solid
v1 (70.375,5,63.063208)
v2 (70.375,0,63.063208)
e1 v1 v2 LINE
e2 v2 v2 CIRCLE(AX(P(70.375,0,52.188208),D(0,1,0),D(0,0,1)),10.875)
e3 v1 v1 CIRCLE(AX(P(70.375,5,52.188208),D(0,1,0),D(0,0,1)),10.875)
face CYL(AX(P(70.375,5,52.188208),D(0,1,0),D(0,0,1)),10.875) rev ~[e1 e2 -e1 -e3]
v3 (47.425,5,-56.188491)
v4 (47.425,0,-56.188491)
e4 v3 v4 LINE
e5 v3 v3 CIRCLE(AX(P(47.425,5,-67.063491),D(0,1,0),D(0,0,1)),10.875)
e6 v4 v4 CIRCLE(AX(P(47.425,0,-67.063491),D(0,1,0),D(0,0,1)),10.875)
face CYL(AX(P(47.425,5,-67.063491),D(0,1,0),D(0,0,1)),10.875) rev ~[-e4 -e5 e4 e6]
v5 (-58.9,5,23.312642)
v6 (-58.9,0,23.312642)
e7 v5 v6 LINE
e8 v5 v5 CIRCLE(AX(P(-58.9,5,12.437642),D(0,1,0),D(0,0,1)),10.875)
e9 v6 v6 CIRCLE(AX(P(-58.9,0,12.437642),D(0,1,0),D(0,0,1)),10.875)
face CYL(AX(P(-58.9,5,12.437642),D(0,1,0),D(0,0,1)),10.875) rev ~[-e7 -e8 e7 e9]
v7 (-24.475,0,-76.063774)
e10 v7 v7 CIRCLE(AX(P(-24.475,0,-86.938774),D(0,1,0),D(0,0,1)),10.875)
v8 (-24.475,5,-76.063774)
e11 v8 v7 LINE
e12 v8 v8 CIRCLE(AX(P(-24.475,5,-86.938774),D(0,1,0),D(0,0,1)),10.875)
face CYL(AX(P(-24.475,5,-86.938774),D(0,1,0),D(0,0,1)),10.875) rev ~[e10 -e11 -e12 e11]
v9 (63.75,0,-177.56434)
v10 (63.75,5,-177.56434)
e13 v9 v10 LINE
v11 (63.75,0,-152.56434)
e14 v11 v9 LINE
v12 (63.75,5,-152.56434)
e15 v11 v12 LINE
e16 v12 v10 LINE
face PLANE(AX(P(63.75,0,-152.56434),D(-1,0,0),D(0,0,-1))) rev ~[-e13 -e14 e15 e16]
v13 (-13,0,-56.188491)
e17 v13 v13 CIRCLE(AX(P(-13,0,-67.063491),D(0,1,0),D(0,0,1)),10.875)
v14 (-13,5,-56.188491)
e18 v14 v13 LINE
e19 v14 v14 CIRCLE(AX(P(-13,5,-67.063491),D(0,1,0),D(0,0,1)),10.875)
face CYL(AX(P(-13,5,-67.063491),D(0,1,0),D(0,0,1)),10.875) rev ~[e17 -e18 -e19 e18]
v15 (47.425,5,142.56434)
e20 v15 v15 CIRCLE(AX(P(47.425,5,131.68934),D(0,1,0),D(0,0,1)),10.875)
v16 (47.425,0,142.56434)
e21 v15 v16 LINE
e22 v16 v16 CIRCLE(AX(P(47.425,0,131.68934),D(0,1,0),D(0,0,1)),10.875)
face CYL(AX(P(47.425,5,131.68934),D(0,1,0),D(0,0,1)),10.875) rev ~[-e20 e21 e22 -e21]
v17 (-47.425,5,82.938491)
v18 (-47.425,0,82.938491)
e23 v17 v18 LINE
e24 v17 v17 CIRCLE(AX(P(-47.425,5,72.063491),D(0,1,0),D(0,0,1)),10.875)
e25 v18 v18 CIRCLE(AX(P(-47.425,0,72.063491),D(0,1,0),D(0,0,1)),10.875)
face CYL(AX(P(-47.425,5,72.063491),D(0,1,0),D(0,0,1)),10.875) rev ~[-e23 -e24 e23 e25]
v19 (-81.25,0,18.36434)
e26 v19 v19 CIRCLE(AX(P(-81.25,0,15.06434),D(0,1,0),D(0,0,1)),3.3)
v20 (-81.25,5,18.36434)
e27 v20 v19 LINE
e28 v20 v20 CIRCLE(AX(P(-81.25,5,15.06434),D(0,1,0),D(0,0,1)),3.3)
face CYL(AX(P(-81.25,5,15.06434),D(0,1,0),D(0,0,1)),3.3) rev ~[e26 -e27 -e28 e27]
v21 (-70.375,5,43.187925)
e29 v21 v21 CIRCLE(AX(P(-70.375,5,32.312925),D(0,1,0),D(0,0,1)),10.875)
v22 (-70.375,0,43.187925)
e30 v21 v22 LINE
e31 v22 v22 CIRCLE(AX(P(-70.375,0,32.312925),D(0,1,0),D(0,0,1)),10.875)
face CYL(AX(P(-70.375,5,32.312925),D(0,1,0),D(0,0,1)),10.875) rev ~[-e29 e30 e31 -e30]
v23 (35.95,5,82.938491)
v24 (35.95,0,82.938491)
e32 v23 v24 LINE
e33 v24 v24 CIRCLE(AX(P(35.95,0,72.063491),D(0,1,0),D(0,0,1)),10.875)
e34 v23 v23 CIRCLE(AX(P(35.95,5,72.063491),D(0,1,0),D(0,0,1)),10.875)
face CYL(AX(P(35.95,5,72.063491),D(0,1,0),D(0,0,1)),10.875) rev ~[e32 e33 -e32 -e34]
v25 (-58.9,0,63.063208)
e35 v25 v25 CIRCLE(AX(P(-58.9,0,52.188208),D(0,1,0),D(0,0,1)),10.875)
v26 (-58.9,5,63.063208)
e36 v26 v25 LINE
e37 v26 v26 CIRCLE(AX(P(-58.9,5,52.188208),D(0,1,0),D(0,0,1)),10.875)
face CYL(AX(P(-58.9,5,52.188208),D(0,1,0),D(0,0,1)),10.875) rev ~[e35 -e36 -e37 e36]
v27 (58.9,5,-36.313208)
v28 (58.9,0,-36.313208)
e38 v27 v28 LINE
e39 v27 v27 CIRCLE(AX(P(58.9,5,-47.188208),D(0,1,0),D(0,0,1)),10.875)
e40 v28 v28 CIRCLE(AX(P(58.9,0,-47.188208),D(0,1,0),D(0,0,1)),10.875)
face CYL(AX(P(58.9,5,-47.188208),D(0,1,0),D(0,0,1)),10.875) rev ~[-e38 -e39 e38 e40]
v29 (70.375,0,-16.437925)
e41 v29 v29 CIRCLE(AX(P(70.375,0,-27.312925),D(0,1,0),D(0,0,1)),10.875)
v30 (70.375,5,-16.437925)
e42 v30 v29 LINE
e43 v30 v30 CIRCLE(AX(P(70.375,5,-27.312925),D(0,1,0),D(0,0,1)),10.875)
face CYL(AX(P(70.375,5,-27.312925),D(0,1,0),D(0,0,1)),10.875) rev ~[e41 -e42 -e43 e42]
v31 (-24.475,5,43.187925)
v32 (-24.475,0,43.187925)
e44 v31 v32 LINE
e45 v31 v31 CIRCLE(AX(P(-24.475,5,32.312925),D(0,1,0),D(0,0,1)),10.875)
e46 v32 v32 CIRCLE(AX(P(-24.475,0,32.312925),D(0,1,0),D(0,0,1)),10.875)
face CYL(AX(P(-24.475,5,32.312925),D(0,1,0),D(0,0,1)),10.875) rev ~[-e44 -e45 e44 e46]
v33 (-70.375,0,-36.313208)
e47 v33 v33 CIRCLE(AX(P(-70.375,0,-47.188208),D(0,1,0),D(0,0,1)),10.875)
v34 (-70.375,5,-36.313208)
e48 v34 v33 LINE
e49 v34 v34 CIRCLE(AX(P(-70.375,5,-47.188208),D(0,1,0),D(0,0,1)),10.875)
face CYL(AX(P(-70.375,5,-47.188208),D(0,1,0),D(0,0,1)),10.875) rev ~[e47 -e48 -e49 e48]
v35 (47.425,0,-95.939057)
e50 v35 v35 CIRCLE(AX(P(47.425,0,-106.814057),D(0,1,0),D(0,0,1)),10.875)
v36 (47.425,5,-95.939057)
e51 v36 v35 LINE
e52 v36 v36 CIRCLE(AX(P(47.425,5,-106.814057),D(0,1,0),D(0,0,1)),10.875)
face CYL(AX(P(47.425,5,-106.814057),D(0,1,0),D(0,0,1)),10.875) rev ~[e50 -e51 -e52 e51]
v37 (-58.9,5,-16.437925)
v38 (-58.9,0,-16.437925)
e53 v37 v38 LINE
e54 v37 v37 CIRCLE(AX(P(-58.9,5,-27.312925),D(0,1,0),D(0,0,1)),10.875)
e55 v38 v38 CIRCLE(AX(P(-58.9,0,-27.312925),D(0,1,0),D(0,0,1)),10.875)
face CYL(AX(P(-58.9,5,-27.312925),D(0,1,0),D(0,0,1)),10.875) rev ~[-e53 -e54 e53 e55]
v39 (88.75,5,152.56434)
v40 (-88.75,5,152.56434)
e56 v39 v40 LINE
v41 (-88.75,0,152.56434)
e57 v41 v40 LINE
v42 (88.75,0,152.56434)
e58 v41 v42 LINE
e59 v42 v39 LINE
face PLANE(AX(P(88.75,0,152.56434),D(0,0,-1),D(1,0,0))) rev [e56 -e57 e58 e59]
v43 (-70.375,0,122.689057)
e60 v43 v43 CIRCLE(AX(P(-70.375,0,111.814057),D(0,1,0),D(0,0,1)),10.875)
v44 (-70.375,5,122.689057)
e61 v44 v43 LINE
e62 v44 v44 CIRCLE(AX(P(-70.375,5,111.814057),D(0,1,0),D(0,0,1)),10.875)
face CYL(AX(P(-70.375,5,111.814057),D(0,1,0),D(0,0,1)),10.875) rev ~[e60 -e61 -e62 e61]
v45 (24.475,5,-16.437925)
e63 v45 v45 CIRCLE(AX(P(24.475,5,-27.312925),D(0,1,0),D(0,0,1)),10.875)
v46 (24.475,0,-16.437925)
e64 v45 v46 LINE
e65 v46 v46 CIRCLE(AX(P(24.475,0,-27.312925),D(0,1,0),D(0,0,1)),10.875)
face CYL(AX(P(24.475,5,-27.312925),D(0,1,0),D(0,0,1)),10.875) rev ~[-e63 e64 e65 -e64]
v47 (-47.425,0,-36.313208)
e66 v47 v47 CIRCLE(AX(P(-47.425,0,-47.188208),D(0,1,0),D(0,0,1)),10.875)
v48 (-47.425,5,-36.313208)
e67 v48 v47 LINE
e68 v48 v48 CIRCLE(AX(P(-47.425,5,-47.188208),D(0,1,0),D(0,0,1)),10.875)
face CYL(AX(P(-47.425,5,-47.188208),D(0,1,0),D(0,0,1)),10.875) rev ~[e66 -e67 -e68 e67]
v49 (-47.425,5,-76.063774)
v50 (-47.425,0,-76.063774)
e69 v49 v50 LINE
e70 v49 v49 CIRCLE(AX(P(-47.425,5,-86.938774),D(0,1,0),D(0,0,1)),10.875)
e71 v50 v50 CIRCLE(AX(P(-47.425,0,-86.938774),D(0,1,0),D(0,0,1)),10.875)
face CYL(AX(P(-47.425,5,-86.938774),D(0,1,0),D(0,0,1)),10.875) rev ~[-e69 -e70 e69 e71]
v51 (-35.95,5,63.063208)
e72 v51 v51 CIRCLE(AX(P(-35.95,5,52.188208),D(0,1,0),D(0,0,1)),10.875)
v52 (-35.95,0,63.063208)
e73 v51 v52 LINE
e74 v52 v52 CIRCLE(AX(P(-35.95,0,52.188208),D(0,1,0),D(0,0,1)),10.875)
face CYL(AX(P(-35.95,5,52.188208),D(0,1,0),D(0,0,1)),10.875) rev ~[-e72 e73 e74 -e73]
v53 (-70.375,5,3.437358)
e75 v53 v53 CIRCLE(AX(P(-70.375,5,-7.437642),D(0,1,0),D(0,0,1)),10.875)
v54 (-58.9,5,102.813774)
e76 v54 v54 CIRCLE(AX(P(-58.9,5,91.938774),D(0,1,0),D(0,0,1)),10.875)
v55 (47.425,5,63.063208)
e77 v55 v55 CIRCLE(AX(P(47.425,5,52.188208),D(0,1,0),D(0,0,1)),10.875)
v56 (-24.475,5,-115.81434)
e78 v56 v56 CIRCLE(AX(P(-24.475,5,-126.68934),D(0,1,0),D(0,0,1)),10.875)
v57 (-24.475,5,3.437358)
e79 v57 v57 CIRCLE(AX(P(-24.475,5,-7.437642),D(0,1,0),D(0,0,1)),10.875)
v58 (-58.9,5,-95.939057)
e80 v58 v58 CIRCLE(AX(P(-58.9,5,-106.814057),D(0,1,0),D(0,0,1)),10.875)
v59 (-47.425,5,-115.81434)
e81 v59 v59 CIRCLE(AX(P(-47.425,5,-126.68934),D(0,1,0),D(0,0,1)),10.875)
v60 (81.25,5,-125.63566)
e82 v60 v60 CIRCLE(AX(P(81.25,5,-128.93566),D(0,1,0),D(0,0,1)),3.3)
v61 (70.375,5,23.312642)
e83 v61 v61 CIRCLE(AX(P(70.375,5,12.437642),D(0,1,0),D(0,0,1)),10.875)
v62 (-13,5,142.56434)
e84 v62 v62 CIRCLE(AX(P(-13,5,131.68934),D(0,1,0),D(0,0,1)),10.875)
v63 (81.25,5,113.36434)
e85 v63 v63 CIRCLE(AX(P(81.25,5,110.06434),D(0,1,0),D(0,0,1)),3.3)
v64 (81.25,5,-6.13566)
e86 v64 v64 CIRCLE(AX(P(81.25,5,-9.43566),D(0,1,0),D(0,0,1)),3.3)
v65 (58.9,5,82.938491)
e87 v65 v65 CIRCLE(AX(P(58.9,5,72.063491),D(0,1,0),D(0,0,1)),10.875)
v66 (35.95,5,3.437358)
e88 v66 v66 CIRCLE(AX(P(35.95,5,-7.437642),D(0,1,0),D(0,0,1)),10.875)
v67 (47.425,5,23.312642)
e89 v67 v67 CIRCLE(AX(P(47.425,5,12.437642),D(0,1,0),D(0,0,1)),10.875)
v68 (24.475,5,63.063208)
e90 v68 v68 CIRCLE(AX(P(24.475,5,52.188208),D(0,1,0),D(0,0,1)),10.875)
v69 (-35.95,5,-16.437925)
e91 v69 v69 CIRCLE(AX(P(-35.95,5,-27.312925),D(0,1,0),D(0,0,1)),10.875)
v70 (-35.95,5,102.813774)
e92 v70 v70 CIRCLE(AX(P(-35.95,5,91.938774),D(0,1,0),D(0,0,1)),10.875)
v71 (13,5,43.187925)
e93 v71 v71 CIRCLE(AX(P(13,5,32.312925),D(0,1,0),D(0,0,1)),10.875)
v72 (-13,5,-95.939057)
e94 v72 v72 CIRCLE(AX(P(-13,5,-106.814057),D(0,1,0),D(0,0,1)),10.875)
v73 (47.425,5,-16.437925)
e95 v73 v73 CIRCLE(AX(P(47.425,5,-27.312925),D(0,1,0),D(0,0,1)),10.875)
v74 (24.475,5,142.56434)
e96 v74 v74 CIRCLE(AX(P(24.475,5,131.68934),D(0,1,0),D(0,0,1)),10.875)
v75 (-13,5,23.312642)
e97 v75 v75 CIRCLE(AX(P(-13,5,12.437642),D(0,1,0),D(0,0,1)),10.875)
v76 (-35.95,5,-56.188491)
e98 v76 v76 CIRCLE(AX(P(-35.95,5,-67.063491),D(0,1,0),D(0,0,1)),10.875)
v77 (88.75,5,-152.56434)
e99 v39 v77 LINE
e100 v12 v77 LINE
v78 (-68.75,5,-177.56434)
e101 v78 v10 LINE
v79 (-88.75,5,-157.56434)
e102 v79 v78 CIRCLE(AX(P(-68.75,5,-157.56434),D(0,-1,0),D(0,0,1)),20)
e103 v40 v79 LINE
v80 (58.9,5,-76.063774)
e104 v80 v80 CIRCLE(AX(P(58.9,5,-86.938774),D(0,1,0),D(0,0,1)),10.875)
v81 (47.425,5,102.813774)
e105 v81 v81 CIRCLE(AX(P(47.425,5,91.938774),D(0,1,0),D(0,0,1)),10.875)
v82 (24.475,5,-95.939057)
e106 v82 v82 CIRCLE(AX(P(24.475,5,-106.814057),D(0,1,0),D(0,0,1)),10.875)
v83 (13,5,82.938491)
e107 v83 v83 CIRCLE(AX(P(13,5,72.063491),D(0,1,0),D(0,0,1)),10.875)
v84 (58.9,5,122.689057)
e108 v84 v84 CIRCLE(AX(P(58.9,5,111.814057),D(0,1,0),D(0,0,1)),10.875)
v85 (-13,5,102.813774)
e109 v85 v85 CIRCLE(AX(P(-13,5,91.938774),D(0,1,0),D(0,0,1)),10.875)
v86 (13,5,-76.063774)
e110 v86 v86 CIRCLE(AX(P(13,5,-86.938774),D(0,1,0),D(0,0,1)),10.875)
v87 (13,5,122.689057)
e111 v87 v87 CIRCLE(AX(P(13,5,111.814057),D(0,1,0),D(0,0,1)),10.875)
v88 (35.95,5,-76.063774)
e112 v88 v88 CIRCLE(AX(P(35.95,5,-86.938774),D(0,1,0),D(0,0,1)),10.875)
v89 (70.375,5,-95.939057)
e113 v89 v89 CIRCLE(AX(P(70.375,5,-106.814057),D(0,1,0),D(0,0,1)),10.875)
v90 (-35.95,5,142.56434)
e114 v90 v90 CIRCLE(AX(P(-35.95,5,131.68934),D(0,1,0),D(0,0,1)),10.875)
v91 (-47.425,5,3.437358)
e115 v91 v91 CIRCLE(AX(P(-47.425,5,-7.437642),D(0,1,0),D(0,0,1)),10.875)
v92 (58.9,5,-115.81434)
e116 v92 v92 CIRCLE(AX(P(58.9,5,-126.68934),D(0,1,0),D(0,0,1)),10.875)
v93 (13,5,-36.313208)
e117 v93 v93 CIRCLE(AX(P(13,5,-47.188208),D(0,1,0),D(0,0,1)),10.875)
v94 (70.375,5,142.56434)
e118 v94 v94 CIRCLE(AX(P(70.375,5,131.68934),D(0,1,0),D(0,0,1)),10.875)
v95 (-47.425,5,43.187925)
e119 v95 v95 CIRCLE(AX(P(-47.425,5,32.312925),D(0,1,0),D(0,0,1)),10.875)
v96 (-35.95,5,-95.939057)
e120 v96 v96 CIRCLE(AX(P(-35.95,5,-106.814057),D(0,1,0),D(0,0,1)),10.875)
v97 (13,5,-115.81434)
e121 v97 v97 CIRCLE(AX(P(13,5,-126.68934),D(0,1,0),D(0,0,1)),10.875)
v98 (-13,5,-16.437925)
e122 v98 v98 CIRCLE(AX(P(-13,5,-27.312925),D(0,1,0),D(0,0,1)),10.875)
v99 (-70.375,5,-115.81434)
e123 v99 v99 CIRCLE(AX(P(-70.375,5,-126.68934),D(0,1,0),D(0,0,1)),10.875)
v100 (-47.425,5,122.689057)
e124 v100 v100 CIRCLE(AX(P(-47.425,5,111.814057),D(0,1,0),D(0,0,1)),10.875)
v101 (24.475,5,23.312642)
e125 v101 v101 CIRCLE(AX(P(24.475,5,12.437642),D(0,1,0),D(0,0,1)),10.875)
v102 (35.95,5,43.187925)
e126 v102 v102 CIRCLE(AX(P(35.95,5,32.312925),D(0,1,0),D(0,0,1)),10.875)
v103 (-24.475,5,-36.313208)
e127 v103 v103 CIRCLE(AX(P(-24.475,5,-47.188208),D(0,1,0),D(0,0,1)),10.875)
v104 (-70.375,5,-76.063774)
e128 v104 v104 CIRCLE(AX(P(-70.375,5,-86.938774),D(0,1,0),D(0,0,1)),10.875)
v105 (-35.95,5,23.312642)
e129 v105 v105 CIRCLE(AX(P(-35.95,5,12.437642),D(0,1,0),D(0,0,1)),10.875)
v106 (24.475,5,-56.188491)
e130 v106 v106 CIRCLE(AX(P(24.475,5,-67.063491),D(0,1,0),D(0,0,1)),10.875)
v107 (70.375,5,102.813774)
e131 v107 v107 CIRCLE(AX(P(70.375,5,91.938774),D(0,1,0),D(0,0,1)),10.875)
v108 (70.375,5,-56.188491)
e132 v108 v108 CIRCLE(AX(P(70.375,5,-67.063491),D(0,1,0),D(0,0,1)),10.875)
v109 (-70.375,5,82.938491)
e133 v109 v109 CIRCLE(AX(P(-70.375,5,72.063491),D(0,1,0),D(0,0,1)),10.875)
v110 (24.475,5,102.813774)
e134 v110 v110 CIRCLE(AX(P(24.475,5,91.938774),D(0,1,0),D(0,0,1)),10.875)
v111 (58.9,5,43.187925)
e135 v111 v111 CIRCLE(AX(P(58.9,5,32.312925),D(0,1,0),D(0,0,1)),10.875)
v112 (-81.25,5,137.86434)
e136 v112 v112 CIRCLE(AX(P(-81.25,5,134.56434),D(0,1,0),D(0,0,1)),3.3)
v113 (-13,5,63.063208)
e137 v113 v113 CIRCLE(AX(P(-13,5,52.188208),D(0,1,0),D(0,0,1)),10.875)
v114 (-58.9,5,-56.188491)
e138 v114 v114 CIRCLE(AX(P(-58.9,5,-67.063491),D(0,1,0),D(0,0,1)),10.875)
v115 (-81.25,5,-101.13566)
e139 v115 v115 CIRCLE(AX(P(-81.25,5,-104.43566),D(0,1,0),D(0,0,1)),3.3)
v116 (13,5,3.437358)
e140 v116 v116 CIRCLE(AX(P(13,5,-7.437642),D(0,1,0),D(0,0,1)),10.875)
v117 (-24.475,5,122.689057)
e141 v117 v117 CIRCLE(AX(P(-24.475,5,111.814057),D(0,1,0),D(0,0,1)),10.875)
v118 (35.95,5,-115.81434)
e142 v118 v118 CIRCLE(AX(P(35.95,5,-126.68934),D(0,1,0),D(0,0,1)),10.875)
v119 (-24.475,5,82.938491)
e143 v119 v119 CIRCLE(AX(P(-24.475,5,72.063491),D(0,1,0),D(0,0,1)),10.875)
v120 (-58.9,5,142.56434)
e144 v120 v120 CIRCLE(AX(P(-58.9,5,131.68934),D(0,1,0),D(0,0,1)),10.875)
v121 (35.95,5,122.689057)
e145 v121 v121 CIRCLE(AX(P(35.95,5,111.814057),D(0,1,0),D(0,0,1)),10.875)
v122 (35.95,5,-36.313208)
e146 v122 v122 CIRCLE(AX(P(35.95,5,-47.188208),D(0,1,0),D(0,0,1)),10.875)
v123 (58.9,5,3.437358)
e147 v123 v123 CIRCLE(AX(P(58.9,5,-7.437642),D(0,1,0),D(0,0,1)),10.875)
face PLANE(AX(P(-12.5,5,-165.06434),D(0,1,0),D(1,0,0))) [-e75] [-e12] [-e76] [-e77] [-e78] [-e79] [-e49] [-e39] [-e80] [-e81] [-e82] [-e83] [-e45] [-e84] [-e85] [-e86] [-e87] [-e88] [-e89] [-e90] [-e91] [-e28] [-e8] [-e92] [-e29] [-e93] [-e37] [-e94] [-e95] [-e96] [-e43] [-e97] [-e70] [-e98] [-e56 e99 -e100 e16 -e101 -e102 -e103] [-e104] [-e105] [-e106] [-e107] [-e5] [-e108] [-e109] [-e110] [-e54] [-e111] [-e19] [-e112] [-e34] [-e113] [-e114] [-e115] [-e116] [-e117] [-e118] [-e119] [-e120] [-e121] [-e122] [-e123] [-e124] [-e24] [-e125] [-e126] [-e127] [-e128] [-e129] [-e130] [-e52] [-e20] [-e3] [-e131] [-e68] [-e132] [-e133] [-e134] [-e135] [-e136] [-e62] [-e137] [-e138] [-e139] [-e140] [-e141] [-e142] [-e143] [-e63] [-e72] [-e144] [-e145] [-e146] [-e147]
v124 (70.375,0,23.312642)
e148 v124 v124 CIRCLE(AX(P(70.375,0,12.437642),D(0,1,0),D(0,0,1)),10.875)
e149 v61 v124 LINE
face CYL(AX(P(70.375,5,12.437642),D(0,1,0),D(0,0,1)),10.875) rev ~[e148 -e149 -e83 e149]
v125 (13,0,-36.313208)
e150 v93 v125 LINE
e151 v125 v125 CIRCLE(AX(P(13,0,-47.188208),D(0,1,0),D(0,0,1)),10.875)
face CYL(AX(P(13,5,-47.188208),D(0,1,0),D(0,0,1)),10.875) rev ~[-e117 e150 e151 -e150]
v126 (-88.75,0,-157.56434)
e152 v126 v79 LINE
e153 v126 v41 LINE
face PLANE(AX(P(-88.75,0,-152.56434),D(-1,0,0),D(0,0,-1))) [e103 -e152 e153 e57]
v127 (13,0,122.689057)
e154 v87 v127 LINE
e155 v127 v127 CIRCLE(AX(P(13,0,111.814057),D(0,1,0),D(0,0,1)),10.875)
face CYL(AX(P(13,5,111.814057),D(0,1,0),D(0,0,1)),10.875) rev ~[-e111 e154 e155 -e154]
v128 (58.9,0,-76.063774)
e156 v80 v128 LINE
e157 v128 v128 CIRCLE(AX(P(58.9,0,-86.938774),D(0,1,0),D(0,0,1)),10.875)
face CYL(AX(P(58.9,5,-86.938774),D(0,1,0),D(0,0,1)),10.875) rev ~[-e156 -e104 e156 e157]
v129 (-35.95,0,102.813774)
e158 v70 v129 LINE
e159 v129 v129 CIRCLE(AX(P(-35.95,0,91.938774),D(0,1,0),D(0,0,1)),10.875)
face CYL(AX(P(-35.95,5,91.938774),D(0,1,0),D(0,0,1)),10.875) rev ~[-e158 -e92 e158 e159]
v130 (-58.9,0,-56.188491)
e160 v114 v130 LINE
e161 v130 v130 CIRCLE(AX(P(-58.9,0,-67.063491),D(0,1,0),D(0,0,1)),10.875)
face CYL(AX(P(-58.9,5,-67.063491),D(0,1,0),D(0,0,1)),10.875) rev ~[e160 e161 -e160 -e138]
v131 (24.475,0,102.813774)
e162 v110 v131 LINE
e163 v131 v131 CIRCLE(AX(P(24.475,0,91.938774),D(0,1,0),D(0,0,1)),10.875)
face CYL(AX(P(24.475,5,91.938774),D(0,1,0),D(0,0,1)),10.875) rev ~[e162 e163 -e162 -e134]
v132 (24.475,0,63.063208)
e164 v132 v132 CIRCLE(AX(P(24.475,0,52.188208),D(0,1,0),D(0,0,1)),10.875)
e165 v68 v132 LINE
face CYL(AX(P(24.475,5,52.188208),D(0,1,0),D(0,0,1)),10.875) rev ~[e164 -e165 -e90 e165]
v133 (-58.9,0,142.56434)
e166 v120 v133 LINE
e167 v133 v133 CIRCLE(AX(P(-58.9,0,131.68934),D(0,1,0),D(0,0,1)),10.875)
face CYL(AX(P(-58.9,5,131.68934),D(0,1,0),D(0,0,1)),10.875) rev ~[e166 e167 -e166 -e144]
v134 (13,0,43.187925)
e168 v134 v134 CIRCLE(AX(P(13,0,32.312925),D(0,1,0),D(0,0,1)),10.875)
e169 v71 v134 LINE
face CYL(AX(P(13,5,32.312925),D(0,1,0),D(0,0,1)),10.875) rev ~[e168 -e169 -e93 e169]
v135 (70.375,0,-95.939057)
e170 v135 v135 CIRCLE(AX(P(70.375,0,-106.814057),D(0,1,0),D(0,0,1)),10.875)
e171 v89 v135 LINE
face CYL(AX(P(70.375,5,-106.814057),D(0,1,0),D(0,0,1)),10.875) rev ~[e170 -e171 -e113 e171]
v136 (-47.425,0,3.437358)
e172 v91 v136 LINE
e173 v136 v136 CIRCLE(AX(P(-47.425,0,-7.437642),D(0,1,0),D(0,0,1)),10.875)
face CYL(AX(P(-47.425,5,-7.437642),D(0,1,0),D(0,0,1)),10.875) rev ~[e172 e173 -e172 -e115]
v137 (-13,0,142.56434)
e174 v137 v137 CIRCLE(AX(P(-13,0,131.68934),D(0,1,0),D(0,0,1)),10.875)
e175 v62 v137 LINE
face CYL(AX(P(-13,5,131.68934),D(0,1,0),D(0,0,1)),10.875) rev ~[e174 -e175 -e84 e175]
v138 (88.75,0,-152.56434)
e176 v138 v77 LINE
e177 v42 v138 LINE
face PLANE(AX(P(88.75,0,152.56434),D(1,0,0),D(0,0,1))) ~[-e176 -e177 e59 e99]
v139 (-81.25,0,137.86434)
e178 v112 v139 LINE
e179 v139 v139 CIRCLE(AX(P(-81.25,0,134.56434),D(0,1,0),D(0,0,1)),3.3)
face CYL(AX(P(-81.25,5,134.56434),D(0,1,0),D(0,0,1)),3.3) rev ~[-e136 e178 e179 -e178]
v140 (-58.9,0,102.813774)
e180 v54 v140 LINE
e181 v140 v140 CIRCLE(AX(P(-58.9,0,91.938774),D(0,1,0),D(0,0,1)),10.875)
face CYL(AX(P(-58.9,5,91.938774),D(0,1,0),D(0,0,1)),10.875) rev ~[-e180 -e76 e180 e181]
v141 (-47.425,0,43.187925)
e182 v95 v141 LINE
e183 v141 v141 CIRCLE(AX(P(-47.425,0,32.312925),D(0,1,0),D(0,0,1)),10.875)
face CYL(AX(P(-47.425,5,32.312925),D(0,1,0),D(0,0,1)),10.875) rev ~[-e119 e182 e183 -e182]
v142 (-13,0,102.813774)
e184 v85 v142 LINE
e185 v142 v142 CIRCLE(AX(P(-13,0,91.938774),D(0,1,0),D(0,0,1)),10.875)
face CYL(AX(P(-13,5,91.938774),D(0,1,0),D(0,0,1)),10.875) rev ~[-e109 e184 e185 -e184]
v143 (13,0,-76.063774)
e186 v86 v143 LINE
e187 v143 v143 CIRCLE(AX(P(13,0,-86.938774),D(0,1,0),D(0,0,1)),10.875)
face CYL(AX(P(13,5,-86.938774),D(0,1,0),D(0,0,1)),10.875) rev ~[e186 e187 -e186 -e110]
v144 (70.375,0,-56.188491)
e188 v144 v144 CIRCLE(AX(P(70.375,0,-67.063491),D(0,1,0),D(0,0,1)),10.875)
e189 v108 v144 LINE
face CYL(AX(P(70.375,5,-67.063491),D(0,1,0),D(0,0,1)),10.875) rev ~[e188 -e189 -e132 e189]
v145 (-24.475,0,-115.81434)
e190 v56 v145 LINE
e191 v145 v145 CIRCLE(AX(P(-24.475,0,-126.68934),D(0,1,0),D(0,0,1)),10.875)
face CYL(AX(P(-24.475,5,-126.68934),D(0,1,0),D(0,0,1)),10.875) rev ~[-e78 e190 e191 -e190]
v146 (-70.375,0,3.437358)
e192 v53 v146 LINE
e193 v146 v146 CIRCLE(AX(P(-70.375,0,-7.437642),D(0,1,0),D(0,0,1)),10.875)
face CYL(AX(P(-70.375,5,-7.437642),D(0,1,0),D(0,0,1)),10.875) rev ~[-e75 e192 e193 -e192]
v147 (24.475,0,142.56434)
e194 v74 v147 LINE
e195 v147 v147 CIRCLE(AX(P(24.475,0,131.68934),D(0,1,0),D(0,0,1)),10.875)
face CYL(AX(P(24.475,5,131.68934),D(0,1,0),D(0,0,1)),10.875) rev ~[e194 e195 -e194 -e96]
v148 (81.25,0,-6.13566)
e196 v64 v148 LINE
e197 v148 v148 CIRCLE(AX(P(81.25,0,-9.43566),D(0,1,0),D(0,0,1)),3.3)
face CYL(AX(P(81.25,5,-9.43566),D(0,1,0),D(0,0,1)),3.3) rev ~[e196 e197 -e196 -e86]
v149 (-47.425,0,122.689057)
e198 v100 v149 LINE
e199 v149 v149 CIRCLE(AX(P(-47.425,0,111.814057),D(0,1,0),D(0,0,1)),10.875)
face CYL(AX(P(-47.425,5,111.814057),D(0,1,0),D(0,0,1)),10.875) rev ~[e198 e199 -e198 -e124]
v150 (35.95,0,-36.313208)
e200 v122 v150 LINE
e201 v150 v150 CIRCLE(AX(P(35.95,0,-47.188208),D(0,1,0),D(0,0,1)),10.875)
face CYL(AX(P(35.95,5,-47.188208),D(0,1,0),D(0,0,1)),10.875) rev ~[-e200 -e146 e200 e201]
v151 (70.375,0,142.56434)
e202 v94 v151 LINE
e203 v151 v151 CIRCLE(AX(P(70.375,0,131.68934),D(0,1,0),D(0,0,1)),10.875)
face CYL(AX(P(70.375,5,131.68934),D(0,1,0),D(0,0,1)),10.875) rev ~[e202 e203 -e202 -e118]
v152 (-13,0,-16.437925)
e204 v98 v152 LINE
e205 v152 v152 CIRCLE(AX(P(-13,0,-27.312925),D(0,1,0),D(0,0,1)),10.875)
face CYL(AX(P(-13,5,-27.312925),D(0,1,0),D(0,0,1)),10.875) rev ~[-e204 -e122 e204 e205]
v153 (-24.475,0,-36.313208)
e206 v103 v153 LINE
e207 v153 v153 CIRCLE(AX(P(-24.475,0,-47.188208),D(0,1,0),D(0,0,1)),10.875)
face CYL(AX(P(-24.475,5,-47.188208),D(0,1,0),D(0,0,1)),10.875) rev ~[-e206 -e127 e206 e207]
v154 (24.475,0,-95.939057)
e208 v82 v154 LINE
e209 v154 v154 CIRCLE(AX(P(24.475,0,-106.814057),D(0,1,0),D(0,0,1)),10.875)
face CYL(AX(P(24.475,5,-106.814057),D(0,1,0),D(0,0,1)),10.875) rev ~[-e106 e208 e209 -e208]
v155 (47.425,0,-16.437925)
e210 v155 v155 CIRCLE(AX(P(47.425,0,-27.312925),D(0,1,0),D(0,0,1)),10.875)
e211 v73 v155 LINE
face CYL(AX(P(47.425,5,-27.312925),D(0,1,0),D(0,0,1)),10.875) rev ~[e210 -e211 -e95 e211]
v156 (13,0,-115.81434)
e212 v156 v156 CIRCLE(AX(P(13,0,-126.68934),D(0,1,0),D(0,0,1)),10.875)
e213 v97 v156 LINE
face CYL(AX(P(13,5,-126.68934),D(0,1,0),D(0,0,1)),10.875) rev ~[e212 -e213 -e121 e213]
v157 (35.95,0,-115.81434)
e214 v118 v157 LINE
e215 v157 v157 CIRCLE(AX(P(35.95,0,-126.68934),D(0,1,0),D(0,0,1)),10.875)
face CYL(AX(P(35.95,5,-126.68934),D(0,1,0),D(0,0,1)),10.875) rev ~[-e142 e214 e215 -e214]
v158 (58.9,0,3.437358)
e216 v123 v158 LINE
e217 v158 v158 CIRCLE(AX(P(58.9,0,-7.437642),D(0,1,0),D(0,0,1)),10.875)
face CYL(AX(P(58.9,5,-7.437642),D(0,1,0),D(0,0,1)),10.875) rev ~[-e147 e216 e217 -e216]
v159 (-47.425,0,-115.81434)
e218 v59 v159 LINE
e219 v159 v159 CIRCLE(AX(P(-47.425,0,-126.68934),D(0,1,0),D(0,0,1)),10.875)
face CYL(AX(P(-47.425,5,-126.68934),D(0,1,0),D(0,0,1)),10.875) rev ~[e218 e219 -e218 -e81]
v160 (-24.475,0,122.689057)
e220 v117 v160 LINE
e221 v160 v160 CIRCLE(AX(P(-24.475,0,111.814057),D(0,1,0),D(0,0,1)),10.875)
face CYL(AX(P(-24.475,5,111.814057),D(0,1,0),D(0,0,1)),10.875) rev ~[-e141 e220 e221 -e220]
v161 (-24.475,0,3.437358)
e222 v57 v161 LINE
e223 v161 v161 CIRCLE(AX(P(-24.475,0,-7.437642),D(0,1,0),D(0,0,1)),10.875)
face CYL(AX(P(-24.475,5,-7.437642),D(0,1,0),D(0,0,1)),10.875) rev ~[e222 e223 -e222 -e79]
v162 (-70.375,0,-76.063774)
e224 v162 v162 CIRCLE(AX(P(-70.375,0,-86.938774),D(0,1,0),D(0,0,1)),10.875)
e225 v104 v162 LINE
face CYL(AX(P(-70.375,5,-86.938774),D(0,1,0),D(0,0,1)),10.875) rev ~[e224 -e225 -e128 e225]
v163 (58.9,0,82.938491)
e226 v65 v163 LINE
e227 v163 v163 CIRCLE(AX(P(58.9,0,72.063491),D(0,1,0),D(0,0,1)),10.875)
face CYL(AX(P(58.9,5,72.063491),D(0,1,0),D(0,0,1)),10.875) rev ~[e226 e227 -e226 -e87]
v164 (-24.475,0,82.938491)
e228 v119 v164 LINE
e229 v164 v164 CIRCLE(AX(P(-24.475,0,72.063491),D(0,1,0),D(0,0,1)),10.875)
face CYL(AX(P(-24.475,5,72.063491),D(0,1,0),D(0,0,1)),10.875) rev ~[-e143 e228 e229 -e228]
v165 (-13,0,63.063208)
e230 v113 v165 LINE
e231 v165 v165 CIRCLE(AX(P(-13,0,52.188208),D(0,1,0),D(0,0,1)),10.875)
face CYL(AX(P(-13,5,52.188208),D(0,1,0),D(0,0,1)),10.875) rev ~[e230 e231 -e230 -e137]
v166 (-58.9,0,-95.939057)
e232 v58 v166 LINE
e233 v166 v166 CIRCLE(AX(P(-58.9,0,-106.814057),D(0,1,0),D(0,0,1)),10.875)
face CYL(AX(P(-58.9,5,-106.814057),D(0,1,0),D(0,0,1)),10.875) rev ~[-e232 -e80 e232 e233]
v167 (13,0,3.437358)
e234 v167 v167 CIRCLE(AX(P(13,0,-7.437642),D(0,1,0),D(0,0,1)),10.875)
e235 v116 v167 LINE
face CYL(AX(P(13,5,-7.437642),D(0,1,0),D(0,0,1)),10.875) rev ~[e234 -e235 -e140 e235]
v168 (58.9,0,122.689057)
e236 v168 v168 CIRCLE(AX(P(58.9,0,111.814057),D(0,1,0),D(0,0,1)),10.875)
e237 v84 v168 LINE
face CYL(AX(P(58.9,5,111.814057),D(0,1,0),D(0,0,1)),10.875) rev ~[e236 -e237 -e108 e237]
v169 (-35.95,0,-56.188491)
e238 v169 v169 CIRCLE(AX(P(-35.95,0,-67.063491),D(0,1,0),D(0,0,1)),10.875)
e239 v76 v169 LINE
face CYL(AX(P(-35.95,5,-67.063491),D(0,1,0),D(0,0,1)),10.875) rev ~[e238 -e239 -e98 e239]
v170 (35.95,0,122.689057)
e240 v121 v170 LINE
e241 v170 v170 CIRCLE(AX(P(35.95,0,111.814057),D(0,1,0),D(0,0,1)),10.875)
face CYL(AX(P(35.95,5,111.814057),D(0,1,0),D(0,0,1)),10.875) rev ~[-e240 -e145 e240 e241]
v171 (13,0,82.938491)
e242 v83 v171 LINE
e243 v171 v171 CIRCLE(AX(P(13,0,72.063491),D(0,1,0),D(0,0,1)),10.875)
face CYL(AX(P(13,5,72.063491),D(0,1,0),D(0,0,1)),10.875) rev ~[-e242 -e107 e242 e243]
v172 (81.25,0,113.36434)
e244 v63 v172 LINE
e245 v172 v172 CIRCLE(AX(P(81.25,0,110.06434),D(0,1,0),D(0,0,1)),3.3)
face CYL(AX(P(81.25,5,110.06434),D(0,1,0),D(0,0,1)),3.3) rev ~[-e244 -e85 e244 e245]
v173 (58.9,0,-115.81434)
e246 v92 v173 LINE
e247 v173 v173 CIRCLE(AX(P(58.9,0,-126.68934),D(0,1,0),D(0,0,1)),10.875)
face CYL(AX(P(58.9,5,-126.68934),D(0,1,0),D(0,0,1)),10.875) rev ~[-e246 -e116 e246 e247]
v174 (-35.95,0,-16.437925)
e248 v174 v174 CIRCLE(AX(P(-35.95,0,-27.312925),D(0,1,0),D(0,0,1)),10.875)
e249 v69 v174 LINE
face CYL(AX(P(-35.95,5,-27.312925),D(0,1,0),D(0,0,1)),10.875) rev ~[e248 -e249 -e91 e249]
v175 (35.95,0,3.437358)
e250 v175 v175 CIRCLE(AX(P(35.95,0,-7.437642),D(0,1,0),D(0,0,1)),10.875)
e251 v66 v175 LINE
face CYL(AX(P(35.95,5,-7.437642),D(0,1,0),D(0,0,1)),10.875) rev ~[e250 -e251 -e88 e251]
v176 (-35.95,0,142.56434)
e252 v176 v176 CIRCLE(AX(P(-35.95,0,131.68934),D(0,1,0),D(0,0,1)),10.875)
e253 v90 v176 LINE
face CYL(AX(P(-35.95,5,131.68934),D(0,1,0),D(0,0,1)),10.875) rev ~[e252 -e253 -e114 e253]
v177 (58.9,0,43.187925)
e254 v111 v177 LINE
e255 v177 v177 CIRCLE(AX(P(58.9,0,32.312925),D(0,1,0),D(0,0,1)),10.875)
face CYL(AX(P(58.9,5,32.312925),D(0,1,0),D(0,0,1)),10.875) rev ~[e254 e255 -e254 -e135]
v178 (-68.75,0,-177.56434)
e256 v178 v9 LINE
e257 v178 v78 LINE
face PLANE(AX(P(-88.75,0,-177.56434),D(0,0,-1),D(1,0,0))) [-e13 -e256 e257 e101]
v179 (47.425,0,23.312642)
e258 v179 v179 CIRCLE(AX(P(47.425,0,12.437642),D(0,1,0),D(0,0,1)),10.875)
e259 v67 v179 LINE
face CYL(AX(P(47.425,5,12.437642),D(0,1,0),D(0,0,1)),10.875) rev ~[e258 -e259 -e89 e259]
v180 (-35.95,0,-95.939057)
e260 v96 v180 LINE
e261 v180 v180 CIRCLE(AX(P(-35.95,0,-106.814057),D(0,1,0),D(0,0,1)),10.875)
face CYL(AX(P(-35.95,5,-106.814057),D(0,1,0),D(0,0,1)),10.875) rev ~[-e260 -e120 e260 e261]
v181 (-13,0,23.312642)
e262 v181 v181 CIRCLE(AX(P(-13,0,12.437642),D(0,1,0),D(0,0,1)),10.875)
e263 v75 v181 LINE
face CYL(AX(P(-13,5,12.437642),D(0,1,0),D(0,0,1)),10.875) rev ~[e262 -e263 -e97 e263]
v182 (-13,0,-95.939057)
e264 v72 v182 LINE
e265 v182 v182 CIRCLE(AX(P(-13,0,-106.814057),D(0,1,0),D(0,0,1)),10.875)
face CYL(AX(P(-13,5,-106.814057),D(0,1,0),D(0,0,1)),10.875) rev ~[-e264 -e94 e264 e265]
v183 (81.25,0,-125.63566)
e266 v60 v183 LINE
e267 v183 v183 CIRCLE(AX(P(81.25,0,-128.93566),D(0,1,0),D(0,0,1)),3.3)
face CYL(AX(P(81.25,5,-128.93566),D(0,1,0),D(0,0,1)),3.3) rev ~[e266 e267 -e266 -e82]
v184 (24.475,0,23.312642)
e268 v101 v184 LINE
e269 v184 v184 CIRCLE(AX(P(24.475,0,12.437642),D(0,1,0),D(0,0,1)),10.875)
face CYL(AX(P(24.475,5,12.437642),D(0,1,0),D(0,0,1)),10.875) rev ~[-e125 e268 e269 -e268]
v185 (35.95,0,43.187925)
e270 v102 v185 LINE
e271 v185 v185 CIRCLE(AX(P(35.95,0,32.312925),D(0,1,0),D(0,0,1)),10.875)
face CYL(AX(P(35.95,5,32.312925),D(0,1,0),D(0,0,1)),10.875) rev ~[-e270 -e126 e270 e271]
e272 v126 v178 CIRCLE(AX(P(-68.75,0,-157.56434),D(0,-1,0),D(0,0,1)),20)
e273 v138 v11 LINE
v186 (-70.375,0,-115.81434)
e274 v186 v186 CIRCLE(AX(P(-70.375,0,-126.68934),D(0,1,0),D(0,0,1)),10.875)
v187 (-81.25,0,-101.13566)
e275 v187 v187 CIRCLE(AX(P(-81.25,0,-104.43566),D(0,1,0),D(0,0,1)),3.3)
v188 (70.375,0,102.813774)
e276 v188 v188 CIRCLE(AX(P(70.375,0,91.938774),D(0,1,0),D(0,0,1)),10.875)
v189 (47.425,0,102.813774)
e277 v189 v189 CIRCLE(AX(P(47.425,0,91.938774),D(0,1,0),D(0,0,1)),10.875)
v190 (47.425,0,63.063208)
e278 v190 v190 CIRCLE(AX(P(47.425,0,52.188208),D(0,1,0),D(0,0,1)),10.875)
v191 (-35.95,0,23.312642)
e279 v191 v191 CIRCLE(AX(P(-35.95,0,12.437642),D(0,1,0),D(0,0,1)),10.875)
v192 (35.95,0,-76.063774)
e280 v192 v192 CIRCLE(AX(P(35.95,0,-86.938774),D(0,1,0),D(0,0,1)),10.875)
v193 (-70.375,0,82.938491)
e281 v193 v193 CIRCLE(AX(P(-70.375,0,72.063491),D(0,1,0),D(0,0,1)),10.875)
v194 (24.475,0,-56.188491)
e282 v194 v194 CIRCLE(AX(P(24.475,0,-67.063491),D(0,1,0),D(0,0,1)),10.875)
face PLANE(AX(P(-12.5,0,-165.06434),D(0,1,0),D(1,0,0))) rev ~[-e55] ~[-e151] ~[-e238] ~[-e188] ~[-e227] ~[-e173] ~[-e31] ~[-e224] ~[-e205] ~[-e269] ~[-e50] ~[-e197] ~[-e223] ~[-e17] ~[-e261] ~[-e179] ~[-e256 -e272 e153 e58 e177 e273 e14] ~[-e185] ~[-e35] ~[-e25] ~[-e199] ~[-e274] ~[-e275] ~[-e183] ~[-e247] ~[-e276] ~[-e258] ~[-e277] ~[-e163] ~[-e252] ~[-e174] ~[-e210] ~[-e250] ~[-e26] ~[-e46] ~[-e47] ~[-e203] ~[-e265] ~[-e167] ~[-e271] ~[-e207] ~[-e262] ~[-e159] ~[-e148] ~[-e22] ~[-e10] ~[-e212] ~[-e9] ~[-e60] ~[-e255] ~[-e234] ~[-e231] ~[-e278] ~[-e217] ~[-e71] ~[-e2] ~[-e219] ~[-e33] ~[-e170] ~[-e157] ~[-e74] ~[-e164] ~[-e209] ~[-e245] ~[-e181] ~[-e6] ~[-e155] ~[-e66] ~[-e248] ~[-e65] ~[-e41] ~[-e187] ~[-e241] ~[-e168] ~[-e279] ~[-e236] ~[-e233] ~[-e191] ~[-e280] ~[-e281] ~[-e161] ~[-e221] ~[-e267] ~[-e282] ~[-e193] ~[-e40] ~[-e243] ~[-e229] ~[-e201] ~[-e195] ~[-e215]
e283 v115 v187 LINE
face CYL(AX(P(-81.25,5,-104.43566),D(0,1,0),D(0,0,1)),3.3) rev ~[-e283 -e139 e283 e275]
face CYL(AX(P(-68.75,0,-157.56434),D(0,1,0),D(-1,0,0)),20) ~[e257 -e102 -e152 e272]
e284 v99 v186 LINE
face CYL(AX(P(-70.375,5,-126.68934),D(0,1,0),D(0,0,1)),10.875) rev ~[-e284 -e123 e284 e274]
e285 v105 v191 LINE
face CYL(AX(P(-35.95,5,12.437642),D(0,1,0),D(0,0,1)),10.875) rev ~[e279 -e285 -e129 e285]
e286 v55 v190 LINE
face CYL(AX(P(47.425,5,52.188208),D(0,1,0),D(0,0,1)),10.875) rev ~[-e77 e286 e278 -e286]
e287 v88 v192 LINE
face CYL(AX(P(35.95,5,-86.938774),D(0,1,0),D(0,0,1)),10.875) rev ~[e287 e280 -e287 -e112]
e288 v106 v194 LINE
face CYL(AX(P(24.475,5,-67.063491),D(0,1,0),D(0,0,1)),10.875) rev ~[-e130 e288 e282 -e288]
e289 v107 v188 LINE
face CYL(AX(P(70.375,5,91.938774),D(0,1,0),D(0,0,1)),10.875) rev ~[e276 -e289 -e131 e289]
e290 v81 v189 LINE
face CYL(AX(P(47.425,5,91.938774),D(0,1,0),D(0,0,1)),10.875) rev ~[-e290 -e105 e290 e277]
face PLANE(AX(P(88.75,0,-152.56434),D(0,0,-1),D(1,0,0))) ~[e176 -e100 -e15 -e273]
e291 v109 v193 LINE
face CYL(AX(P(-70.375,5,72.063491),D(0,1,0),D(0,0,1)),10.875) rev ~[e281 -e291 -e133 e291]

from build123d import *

# Parameters (mm, degrees)
CELL_BLOCK_SKETCH_W = 162.5
CELL_BLOCK_SKETCH_H = 305.12867922
BOSS_EXTRUDE1_DEPTH = 5
SKETCH3_W           = 7.5
SKETCH3_H           = 305.12867922
BOSS_EXTRUDE2_DEPTH = 5
HOLE_PATTERN_R      = 10.875
CUT_EXTRUDE1_DEPTH  = 5
SKETCH4_R           = 3.3
CUT_EXTRUDE2_DEPTH  = 5
SKETCH5_W           = 152.5
SKETCH5_H           = 25
BOSS_EXTRUDE3_DEPTH = 5
FILLET1_R           = 20


with BuildPart() as part:
    # Cell Block Sketch → Boss-Extrude1 (new body)
    with BuildSketch(Plane(origin=(0, 0, 0), x_dir=(1, 0, 0), z_dir=(0, 1, 0))):
        Rectangle(CELL_BLOCK_SKETCH_W, CELL_BLOCK_SKETCH_H)
    extrude(amount=BOSS_EXTRUDE1_DEPTH)

    # Sketch3 → Boss-Extrude2 (add)
    with BuildSketch(Plane(origin=(0, 0, 0), x_dir=(1, 0, 0), z_dir=(0, 1, 0))):
        with Locations((-85, 0)):
            Rectangle(SKETCH3_W, SKETCH3_H)
    boss_extrude2 = extrude(amount=BOSS_EXTRUDE2_DEPTH)

    # Mirror1: Boss-Extrude2 across plane
    add(boss_extrude2.mirror(Plane(origin=(0, 0, 0), x_dir=(0, 0, 1), z_dir=(1, 0, 0))))

    # Hole Pattern → Cut-Extrude1 (cut)
    with BuildSketch(Plane(origin=(0, 5, 0), x_dir=(1, 0, 0), z_dir=(0, 1, 0))):
        with Locations(Location((-70.375, -111.814056593, 0), (0, 0, 270))):
            Circle(HOLE_PATTERN_R)
        with Locations(Location((-58.9, -131.68933961, 0), (0, 0, 270))):
            Circle(HOLE_PATTERN_R)
        with Locations(Location((-70.375, -72.063490559, 0), (0, 0, 270))):
            Circle(HOLE_PATTERN_R)
        with Locations(Location((-58.9, -91.938773576, 0), (0, 0, 270))):
            Circle(HOLE_PATTERN_R)
        with Locations(Location((-70.375, -32.312924525, 0), (0, 0, 270))):
            Circle(HOLE_PATTERN_R)
        with Locations(Location((-58.9, -52.188207542, 0), (0, 0, 270))):
            Circle(HOLE_PATTERN_R)
        with Locations(Location((-70.375, 7.437641508, 0), (0, 0, 270))):
            Circle(HOLE_PATTERN_R)
        with Locations(Location((-58.9, -12.437641508, 0), (0, 0, 270))):
            Circle(HOLE_PATTERN_R)
        with Locations(Location((-70.375, 47.188207542, 0), (0, 0, 270))):
            Circle(HOLE_PATTERN_R)
        with Locations(Location((-58.9, 27.312924525, 0), (0, 0, 270))):
            Circle(HOLE_PATTERN_R)
        with Locations(Location((-70.375, 86.938773576, 0), (0, 0, 270))):
            Circle(HOLE_PATTERN_R)
        with Locations(Location((-58.9, 67.063490559, 0), (0, 0, 270))):
            Circle(HOLE_PATTERN_R)
        with Locations(Location((-70.375, 126.68933961, 0), (0, 0, 270))):
            Circle(HOLE_PATTERN_R)
        with Locations(Location((-58.9, 106.814056593, 0), (0, 0, 270))):
            Circle(HOLE_PATTERN_R)
        with Locations(Location((-47.425, -72.063490559, 0), (0, 0, 270))):
            Circle(HOLE_PATTERN_R)
        with Locations(Location((-35.95, -91.938773576, 0), (0, 0, 270))):
            Circle(HOLE_PATTERN_R)
        with Locations(Location((-47.425, -32.312924525, 0), (0, 0, 270))):
            Circle(HOLE_PATTERN_R)
        with Locations(Location((-35.95, -52.188207542, 0), (0, 0, 270))):
            Circle(HOLE_PATTERN_R)
        with Locations(Location((-47.425, 7.437641508, 0), (0, 0, 270))):
            Circle(HOLE_PATTERN_R)
        with Locations(Location((-35.95, -12.437641508, 0), (0, 0, 270))):
            Circle(HOLE_PATTERN_R)
        with Locations(Location((-47.425, 47.188207542, 0), (0, 0, 270))):
            Circle(HOLE_PATTERN_R)
        with Locations(Location((-35.95, 27.312924525, 0), (0, 0, 270))):
            Circle(HOLE_PATTERN_R)
        with Locations(Location((-47.425, 86.938773576, 0), (0, 0, 270))):
            Circle(HOLE_PATTERN_R)
        with Locations(Location((-35.95, 67.063490559, 0), (0, 0, 270))):
            Circle(HOLE_PATTERN_R)
        with Locations(Location((-47.425, 126.68933961, 0), (0, 0, 270))):
            Circle(HOLE_PATTERN_R)
        with Locations(Location((-35.95, 106.814056593, 0), (0, 0, 270))):
            Circle(HOLE_PATTERN_R)
        with Locations(Location((-24.475, -72.063490559, 0), (0, 0, 270))):
            Circle(HOLE_PATTERN_R)
        with Locations(Location((-13, -91.938773576, 0), (0, 0, 270))):
            Circle(HOLE_PATTERN_R)
        with Locations(Location((-24.475, -32.312924525, 0), (0, 0, 270))):
            Circle(HOLE_PATTERN_R)
        with Locations(Location((-13, -52.188207542, 0), (0, 0, 270))):
            Circle(HOLE_PATTERN_R)
        with Locations(Location((-24.475, 7.437641508, 0), (0, 0, 270))):
            Circle(HOLE_PATTERN_R)
        with Locations(Location((-13, -12.437641508, 0), (0, 0, 270))):
            Circle(HOLE_PATTERN_R)
        with Locations(Location((-24.475, 47.188207542, 0), (0, 0, 270))):
            Circle(HOLE_PATTERN_R)
        with Locations(Location((-13, 27.312924525, 0), (0, 0, 270))):
            Circle(HOLE_PATTERN_R)
        with Locations(Location((-24.475, 86.938773576, 0), (0, 0, 270))):
            Circle(HOLE_PATTERN_R)
        with Locations(Location((-13, 67.063490559, 0), (0, 0, 270))):
            Circle(HOLE_PATTERN_R)
        with Locations(Location((-24.475, 126.68933961, 0), (0, 0, 270))):
            Circle(HOLE_PATTERN_R)
        with Locations(Location((-13, 106.814056593, 0), (0, 0, 270))):
            Circle(HOLE_PATTERN_R)
        with Locations(Location((-47.425, -111.814056593, 0), (0, 0, 270))):
            Circle(HOLE_PATTERN_R)
        with Locations(Location((-35.95, -131.68933961, 0), (0, 0, 270))):
            Circle(HOLE_PATTERN_R)
        with Locations(Location((-24.475, -111.814056593, 0), (0, 0, 270))):
            Circle(HOLE_PATTERN_R)
        with Locations(Location((-13, -131.68933961, 0), (0, 0, 270))):
            Circle(HOLE_PATTERN_R)
        with Locations(Location((70.375, -131.68933961, 0), (0, 0, 270))):
            Circle(HOLE_PATTERN_R)
        with Locations(Location((58.9, -111.814056593, 0), (0, 0, 270))):
            Circle(HOLE_PATTERN_R)
        with Locations(Location((35.95, -111.814056593, 0), (0, 0, 270))):
            Circle(HOLE_PATTERN_R)
        with Locations(Location((47.425, -131.68933961, 0), (0, 0, 270))):
            Circle(HOLE_PATTERN_R)
        with Locations(Location((13, -111.814056593, 0), (0, 0, 270))):
            Circle(HOLE_PATTERN_R)
        with Locations(Location((24.475, -131.68933961, 0), (0, 0, 270))):
            Circle(HOLE_PATTERN_R)
        with Locations(Location((35.95, -72.063490559, 0), (0, 0, 270))):
            Circle(HOLE_PATTERN_R)
        with Locations(Location((47.425, -91.938773576, 0), (0, 0, 270))):
            Circle(HOLE_PATTERN_R)
        with Locations(Location((13, -72.063490559, 0), (0, 0, 270))):
            Circle(HOLE_PATTERN_R)
        with Locations(Location((24.475, -91.938773576, 0), (0, 0, 270))):
            Circle(HOLE_PATTERN_R)
        with Locations(Location((35.95, -32.312924525, 0), (0, 0, 270))):
            Circle(HOLE_PATTERN_R)
        with Locations(Location((47.425, -52.188207542, 0), (0, 0, 270))):
            Circle(HOLE_PATTERN_R)
        with Locations(Location((13, -32.312924525, 0), (0, 0, 270))):
            Circle(HOLE_PATTERN_R)
        with Locations(Location((24.475, -52.188207542, 0), (0, 0, 270))):
            Circle(HOLE_PATTERN_R)
        with Locations(Location((35.95, 7.437641508, 0), (0, 0, 270))):
            Circle(HOLE_PATTERN_R)
        with Locations(Location((47.425, -12.437641508, 0), (0, 0, 270))):
            Circle(HOLE_PATTERN_R)
        with Locations(Location((13, 7.437641508, 0), (0, 0, 270))):
            Circle(HOLE_PATTERN_R)
        with Locations(Location((24.475, -12.437641508, 0), (0, 0, 270))):
            Circle(HOLE_PATTERN_R)
        with Locations(Location((35.95, 47.188207542, 0), (0, 0, 270))):
            Circle(HOLE_PATTERN_R)
        with Locations(Location((47.425, 27.312924525, 0), (0, 0, 270))):
            Circle(HOLE_PATTERN_R)
        with Locations(Location((13, 47.188207542, 0), (0, 0, 270))):
            Circle(HOLE_PATTERN_R)
        with Locations(Location((24.475, 27.312924525, 0), (0, 0, 270))):
            Circle(HOLE_PATTERN_R)
        with Locations(Location((35.95, 86.938773576, 0), (0, 0, 270))):
            Circle(HOLE_PATTERN_R)
        with Locations(Location((47.425, 67.063490559, 0), (0, 0, 270))):
            Circle(HOLE_PATTERN_R)
        with Locations(Location((13, 86.938773576, 0), (0, 0, 270))):
            Circle(HOLE_PATTERN_R)
        with Locations(Location((24.475, 67.063490559, 0), (0, 0, 270))):
            Circle(HOLE_PATTERN_R)
        with Locations(Location((35.95, 126.68933961, 0), (0, 0, 270))):
            Circle(HOLE_PATTERN_R)
        with Locations(Location((47.425, 106.814056593, 0), (0, 0, 270))):
            Circle(HOLE_PATTERN_R)
        with Locations(Location((13, 126.68933961, 0), (0, 0, 270))):
            Circle(HOLE_PATTERN_R)
        with Locations(Location((24.475, 106.814056593, 0), (0, 0, 270))):
            Circle(HOLE_PATTERN_R)
        with Locations(Location((58.9, -72.063490559, 0), (0, 0, 270))):
            Circle(HOLE_PATTERN_R)
        with Locations(Location((70.375, -91.938773576, 0), (0, 0, 270))):
            Circle(HOLE_PATTERN_R)
        with Locations(Location((58.9, -32.312924525, 0), (0, 0, 270))):
            Circle(HOLE_PATTERN_R)
        with Locations(Location((70.375, -52.188207542, 0), (0, 0, 270))):
            Circle(HOLE_PATTERN_R)
        with Locations(Location((58.9, 7.437641508, 0), (0, 0, 270))):
            Circle(HOLE_PATTERN_R)
        with Locations(Location((70.375, -12.437641508, 0), (0, 0, 270))):
            Circle(HOLE_PATTERN_R)
        with Locations(Location((58.9, 47.188207542, 0), (0, 0, 270))):
            Circle(HOLE_PATTERN_R)
        with Locations(Location((70.375, 27.312924525, 0), (0, 0, 270))):
            Circle(HOLE_PATTERN_R)
        with Locations(Location((58.9, 86.938773576, 0), (0, 0, 270))):
            Circle(HOLE_PATTERN_R)
        with Locations(Location((70.375, 67.063490559, 0), (0, 0, 270))):
            Circle(HOLE_PATTERN_R)
        with Locations(Location((58.9, 126.68933961, 0), (0, 0, 270))):
            Circle(HOLE_PATTERN_R)
        with Locations(Location((70.375, 106.814056593, 0), (0, 0, 270))):
            Circle(HOLE_PATTERN_R)
    extrude(amount=-CUT_EXTRUDE1_DEPTH, mode=Mode.SUBTRACT)

    # Sketch4 → Cut-Extrude2 (cut)
    with BuildSketch(Plane(origin=(0, 5, 0), x_dir=(1, 0, 0), z_dir=(0, 1, 0))):
        with Locations(Location((-81.25, 104.43566039, 0), (0, 0, 270))):
            Circle(SKETCH4_R)
        with Locations(Location((-81.25, -15.06433961, 0), (0, 0, 270))):
            Circle(SKETCH4_R)
        with Locations(Location((-81.25, -134.56433961, 0), (0, 0, 270))):
            Circle(SKETCH4_R)
        with Locations(Location((81.25, -110.06433961, 0), (0, 0, 270))):
            Circle(SKETCH4_R)
        with Locations(Location((81.25, 9.43566039, 0), (0, 0, 270))):
            Circle(SKETCH4_R)
        with Locations(Location((81.25, 128.93566039, 0), (0, 0, 270))):
            Circle(SKETCH4_R)
    extrude(amount=-CUT_EXTRUDE2_DEPTH, mode=Mode.SUBTRACT)

    # Sketch5 → Boss-Extrude3 (add)
    with BuildSketch(Plane(origin=(0, 0, 0), x_dir=(1, 0, 0), z_dir=(0, 1, 0))):
        with Locations((-12.5, 165.06433961)):
            Rectangle(SKETCH5_W, SKETCH5_H)
    extrude(amount=BOSS_EXTRUDE3_DEPTH)

    # Fillet1
    fillet1_edges = [part.edges().sort_by_distance(p)[0] for p in [
        (-88.75, 2.5, -177.56433961),
    ]]
    fillet(fillet1_edges, radius=FILLET1_R)


solid = part.part
